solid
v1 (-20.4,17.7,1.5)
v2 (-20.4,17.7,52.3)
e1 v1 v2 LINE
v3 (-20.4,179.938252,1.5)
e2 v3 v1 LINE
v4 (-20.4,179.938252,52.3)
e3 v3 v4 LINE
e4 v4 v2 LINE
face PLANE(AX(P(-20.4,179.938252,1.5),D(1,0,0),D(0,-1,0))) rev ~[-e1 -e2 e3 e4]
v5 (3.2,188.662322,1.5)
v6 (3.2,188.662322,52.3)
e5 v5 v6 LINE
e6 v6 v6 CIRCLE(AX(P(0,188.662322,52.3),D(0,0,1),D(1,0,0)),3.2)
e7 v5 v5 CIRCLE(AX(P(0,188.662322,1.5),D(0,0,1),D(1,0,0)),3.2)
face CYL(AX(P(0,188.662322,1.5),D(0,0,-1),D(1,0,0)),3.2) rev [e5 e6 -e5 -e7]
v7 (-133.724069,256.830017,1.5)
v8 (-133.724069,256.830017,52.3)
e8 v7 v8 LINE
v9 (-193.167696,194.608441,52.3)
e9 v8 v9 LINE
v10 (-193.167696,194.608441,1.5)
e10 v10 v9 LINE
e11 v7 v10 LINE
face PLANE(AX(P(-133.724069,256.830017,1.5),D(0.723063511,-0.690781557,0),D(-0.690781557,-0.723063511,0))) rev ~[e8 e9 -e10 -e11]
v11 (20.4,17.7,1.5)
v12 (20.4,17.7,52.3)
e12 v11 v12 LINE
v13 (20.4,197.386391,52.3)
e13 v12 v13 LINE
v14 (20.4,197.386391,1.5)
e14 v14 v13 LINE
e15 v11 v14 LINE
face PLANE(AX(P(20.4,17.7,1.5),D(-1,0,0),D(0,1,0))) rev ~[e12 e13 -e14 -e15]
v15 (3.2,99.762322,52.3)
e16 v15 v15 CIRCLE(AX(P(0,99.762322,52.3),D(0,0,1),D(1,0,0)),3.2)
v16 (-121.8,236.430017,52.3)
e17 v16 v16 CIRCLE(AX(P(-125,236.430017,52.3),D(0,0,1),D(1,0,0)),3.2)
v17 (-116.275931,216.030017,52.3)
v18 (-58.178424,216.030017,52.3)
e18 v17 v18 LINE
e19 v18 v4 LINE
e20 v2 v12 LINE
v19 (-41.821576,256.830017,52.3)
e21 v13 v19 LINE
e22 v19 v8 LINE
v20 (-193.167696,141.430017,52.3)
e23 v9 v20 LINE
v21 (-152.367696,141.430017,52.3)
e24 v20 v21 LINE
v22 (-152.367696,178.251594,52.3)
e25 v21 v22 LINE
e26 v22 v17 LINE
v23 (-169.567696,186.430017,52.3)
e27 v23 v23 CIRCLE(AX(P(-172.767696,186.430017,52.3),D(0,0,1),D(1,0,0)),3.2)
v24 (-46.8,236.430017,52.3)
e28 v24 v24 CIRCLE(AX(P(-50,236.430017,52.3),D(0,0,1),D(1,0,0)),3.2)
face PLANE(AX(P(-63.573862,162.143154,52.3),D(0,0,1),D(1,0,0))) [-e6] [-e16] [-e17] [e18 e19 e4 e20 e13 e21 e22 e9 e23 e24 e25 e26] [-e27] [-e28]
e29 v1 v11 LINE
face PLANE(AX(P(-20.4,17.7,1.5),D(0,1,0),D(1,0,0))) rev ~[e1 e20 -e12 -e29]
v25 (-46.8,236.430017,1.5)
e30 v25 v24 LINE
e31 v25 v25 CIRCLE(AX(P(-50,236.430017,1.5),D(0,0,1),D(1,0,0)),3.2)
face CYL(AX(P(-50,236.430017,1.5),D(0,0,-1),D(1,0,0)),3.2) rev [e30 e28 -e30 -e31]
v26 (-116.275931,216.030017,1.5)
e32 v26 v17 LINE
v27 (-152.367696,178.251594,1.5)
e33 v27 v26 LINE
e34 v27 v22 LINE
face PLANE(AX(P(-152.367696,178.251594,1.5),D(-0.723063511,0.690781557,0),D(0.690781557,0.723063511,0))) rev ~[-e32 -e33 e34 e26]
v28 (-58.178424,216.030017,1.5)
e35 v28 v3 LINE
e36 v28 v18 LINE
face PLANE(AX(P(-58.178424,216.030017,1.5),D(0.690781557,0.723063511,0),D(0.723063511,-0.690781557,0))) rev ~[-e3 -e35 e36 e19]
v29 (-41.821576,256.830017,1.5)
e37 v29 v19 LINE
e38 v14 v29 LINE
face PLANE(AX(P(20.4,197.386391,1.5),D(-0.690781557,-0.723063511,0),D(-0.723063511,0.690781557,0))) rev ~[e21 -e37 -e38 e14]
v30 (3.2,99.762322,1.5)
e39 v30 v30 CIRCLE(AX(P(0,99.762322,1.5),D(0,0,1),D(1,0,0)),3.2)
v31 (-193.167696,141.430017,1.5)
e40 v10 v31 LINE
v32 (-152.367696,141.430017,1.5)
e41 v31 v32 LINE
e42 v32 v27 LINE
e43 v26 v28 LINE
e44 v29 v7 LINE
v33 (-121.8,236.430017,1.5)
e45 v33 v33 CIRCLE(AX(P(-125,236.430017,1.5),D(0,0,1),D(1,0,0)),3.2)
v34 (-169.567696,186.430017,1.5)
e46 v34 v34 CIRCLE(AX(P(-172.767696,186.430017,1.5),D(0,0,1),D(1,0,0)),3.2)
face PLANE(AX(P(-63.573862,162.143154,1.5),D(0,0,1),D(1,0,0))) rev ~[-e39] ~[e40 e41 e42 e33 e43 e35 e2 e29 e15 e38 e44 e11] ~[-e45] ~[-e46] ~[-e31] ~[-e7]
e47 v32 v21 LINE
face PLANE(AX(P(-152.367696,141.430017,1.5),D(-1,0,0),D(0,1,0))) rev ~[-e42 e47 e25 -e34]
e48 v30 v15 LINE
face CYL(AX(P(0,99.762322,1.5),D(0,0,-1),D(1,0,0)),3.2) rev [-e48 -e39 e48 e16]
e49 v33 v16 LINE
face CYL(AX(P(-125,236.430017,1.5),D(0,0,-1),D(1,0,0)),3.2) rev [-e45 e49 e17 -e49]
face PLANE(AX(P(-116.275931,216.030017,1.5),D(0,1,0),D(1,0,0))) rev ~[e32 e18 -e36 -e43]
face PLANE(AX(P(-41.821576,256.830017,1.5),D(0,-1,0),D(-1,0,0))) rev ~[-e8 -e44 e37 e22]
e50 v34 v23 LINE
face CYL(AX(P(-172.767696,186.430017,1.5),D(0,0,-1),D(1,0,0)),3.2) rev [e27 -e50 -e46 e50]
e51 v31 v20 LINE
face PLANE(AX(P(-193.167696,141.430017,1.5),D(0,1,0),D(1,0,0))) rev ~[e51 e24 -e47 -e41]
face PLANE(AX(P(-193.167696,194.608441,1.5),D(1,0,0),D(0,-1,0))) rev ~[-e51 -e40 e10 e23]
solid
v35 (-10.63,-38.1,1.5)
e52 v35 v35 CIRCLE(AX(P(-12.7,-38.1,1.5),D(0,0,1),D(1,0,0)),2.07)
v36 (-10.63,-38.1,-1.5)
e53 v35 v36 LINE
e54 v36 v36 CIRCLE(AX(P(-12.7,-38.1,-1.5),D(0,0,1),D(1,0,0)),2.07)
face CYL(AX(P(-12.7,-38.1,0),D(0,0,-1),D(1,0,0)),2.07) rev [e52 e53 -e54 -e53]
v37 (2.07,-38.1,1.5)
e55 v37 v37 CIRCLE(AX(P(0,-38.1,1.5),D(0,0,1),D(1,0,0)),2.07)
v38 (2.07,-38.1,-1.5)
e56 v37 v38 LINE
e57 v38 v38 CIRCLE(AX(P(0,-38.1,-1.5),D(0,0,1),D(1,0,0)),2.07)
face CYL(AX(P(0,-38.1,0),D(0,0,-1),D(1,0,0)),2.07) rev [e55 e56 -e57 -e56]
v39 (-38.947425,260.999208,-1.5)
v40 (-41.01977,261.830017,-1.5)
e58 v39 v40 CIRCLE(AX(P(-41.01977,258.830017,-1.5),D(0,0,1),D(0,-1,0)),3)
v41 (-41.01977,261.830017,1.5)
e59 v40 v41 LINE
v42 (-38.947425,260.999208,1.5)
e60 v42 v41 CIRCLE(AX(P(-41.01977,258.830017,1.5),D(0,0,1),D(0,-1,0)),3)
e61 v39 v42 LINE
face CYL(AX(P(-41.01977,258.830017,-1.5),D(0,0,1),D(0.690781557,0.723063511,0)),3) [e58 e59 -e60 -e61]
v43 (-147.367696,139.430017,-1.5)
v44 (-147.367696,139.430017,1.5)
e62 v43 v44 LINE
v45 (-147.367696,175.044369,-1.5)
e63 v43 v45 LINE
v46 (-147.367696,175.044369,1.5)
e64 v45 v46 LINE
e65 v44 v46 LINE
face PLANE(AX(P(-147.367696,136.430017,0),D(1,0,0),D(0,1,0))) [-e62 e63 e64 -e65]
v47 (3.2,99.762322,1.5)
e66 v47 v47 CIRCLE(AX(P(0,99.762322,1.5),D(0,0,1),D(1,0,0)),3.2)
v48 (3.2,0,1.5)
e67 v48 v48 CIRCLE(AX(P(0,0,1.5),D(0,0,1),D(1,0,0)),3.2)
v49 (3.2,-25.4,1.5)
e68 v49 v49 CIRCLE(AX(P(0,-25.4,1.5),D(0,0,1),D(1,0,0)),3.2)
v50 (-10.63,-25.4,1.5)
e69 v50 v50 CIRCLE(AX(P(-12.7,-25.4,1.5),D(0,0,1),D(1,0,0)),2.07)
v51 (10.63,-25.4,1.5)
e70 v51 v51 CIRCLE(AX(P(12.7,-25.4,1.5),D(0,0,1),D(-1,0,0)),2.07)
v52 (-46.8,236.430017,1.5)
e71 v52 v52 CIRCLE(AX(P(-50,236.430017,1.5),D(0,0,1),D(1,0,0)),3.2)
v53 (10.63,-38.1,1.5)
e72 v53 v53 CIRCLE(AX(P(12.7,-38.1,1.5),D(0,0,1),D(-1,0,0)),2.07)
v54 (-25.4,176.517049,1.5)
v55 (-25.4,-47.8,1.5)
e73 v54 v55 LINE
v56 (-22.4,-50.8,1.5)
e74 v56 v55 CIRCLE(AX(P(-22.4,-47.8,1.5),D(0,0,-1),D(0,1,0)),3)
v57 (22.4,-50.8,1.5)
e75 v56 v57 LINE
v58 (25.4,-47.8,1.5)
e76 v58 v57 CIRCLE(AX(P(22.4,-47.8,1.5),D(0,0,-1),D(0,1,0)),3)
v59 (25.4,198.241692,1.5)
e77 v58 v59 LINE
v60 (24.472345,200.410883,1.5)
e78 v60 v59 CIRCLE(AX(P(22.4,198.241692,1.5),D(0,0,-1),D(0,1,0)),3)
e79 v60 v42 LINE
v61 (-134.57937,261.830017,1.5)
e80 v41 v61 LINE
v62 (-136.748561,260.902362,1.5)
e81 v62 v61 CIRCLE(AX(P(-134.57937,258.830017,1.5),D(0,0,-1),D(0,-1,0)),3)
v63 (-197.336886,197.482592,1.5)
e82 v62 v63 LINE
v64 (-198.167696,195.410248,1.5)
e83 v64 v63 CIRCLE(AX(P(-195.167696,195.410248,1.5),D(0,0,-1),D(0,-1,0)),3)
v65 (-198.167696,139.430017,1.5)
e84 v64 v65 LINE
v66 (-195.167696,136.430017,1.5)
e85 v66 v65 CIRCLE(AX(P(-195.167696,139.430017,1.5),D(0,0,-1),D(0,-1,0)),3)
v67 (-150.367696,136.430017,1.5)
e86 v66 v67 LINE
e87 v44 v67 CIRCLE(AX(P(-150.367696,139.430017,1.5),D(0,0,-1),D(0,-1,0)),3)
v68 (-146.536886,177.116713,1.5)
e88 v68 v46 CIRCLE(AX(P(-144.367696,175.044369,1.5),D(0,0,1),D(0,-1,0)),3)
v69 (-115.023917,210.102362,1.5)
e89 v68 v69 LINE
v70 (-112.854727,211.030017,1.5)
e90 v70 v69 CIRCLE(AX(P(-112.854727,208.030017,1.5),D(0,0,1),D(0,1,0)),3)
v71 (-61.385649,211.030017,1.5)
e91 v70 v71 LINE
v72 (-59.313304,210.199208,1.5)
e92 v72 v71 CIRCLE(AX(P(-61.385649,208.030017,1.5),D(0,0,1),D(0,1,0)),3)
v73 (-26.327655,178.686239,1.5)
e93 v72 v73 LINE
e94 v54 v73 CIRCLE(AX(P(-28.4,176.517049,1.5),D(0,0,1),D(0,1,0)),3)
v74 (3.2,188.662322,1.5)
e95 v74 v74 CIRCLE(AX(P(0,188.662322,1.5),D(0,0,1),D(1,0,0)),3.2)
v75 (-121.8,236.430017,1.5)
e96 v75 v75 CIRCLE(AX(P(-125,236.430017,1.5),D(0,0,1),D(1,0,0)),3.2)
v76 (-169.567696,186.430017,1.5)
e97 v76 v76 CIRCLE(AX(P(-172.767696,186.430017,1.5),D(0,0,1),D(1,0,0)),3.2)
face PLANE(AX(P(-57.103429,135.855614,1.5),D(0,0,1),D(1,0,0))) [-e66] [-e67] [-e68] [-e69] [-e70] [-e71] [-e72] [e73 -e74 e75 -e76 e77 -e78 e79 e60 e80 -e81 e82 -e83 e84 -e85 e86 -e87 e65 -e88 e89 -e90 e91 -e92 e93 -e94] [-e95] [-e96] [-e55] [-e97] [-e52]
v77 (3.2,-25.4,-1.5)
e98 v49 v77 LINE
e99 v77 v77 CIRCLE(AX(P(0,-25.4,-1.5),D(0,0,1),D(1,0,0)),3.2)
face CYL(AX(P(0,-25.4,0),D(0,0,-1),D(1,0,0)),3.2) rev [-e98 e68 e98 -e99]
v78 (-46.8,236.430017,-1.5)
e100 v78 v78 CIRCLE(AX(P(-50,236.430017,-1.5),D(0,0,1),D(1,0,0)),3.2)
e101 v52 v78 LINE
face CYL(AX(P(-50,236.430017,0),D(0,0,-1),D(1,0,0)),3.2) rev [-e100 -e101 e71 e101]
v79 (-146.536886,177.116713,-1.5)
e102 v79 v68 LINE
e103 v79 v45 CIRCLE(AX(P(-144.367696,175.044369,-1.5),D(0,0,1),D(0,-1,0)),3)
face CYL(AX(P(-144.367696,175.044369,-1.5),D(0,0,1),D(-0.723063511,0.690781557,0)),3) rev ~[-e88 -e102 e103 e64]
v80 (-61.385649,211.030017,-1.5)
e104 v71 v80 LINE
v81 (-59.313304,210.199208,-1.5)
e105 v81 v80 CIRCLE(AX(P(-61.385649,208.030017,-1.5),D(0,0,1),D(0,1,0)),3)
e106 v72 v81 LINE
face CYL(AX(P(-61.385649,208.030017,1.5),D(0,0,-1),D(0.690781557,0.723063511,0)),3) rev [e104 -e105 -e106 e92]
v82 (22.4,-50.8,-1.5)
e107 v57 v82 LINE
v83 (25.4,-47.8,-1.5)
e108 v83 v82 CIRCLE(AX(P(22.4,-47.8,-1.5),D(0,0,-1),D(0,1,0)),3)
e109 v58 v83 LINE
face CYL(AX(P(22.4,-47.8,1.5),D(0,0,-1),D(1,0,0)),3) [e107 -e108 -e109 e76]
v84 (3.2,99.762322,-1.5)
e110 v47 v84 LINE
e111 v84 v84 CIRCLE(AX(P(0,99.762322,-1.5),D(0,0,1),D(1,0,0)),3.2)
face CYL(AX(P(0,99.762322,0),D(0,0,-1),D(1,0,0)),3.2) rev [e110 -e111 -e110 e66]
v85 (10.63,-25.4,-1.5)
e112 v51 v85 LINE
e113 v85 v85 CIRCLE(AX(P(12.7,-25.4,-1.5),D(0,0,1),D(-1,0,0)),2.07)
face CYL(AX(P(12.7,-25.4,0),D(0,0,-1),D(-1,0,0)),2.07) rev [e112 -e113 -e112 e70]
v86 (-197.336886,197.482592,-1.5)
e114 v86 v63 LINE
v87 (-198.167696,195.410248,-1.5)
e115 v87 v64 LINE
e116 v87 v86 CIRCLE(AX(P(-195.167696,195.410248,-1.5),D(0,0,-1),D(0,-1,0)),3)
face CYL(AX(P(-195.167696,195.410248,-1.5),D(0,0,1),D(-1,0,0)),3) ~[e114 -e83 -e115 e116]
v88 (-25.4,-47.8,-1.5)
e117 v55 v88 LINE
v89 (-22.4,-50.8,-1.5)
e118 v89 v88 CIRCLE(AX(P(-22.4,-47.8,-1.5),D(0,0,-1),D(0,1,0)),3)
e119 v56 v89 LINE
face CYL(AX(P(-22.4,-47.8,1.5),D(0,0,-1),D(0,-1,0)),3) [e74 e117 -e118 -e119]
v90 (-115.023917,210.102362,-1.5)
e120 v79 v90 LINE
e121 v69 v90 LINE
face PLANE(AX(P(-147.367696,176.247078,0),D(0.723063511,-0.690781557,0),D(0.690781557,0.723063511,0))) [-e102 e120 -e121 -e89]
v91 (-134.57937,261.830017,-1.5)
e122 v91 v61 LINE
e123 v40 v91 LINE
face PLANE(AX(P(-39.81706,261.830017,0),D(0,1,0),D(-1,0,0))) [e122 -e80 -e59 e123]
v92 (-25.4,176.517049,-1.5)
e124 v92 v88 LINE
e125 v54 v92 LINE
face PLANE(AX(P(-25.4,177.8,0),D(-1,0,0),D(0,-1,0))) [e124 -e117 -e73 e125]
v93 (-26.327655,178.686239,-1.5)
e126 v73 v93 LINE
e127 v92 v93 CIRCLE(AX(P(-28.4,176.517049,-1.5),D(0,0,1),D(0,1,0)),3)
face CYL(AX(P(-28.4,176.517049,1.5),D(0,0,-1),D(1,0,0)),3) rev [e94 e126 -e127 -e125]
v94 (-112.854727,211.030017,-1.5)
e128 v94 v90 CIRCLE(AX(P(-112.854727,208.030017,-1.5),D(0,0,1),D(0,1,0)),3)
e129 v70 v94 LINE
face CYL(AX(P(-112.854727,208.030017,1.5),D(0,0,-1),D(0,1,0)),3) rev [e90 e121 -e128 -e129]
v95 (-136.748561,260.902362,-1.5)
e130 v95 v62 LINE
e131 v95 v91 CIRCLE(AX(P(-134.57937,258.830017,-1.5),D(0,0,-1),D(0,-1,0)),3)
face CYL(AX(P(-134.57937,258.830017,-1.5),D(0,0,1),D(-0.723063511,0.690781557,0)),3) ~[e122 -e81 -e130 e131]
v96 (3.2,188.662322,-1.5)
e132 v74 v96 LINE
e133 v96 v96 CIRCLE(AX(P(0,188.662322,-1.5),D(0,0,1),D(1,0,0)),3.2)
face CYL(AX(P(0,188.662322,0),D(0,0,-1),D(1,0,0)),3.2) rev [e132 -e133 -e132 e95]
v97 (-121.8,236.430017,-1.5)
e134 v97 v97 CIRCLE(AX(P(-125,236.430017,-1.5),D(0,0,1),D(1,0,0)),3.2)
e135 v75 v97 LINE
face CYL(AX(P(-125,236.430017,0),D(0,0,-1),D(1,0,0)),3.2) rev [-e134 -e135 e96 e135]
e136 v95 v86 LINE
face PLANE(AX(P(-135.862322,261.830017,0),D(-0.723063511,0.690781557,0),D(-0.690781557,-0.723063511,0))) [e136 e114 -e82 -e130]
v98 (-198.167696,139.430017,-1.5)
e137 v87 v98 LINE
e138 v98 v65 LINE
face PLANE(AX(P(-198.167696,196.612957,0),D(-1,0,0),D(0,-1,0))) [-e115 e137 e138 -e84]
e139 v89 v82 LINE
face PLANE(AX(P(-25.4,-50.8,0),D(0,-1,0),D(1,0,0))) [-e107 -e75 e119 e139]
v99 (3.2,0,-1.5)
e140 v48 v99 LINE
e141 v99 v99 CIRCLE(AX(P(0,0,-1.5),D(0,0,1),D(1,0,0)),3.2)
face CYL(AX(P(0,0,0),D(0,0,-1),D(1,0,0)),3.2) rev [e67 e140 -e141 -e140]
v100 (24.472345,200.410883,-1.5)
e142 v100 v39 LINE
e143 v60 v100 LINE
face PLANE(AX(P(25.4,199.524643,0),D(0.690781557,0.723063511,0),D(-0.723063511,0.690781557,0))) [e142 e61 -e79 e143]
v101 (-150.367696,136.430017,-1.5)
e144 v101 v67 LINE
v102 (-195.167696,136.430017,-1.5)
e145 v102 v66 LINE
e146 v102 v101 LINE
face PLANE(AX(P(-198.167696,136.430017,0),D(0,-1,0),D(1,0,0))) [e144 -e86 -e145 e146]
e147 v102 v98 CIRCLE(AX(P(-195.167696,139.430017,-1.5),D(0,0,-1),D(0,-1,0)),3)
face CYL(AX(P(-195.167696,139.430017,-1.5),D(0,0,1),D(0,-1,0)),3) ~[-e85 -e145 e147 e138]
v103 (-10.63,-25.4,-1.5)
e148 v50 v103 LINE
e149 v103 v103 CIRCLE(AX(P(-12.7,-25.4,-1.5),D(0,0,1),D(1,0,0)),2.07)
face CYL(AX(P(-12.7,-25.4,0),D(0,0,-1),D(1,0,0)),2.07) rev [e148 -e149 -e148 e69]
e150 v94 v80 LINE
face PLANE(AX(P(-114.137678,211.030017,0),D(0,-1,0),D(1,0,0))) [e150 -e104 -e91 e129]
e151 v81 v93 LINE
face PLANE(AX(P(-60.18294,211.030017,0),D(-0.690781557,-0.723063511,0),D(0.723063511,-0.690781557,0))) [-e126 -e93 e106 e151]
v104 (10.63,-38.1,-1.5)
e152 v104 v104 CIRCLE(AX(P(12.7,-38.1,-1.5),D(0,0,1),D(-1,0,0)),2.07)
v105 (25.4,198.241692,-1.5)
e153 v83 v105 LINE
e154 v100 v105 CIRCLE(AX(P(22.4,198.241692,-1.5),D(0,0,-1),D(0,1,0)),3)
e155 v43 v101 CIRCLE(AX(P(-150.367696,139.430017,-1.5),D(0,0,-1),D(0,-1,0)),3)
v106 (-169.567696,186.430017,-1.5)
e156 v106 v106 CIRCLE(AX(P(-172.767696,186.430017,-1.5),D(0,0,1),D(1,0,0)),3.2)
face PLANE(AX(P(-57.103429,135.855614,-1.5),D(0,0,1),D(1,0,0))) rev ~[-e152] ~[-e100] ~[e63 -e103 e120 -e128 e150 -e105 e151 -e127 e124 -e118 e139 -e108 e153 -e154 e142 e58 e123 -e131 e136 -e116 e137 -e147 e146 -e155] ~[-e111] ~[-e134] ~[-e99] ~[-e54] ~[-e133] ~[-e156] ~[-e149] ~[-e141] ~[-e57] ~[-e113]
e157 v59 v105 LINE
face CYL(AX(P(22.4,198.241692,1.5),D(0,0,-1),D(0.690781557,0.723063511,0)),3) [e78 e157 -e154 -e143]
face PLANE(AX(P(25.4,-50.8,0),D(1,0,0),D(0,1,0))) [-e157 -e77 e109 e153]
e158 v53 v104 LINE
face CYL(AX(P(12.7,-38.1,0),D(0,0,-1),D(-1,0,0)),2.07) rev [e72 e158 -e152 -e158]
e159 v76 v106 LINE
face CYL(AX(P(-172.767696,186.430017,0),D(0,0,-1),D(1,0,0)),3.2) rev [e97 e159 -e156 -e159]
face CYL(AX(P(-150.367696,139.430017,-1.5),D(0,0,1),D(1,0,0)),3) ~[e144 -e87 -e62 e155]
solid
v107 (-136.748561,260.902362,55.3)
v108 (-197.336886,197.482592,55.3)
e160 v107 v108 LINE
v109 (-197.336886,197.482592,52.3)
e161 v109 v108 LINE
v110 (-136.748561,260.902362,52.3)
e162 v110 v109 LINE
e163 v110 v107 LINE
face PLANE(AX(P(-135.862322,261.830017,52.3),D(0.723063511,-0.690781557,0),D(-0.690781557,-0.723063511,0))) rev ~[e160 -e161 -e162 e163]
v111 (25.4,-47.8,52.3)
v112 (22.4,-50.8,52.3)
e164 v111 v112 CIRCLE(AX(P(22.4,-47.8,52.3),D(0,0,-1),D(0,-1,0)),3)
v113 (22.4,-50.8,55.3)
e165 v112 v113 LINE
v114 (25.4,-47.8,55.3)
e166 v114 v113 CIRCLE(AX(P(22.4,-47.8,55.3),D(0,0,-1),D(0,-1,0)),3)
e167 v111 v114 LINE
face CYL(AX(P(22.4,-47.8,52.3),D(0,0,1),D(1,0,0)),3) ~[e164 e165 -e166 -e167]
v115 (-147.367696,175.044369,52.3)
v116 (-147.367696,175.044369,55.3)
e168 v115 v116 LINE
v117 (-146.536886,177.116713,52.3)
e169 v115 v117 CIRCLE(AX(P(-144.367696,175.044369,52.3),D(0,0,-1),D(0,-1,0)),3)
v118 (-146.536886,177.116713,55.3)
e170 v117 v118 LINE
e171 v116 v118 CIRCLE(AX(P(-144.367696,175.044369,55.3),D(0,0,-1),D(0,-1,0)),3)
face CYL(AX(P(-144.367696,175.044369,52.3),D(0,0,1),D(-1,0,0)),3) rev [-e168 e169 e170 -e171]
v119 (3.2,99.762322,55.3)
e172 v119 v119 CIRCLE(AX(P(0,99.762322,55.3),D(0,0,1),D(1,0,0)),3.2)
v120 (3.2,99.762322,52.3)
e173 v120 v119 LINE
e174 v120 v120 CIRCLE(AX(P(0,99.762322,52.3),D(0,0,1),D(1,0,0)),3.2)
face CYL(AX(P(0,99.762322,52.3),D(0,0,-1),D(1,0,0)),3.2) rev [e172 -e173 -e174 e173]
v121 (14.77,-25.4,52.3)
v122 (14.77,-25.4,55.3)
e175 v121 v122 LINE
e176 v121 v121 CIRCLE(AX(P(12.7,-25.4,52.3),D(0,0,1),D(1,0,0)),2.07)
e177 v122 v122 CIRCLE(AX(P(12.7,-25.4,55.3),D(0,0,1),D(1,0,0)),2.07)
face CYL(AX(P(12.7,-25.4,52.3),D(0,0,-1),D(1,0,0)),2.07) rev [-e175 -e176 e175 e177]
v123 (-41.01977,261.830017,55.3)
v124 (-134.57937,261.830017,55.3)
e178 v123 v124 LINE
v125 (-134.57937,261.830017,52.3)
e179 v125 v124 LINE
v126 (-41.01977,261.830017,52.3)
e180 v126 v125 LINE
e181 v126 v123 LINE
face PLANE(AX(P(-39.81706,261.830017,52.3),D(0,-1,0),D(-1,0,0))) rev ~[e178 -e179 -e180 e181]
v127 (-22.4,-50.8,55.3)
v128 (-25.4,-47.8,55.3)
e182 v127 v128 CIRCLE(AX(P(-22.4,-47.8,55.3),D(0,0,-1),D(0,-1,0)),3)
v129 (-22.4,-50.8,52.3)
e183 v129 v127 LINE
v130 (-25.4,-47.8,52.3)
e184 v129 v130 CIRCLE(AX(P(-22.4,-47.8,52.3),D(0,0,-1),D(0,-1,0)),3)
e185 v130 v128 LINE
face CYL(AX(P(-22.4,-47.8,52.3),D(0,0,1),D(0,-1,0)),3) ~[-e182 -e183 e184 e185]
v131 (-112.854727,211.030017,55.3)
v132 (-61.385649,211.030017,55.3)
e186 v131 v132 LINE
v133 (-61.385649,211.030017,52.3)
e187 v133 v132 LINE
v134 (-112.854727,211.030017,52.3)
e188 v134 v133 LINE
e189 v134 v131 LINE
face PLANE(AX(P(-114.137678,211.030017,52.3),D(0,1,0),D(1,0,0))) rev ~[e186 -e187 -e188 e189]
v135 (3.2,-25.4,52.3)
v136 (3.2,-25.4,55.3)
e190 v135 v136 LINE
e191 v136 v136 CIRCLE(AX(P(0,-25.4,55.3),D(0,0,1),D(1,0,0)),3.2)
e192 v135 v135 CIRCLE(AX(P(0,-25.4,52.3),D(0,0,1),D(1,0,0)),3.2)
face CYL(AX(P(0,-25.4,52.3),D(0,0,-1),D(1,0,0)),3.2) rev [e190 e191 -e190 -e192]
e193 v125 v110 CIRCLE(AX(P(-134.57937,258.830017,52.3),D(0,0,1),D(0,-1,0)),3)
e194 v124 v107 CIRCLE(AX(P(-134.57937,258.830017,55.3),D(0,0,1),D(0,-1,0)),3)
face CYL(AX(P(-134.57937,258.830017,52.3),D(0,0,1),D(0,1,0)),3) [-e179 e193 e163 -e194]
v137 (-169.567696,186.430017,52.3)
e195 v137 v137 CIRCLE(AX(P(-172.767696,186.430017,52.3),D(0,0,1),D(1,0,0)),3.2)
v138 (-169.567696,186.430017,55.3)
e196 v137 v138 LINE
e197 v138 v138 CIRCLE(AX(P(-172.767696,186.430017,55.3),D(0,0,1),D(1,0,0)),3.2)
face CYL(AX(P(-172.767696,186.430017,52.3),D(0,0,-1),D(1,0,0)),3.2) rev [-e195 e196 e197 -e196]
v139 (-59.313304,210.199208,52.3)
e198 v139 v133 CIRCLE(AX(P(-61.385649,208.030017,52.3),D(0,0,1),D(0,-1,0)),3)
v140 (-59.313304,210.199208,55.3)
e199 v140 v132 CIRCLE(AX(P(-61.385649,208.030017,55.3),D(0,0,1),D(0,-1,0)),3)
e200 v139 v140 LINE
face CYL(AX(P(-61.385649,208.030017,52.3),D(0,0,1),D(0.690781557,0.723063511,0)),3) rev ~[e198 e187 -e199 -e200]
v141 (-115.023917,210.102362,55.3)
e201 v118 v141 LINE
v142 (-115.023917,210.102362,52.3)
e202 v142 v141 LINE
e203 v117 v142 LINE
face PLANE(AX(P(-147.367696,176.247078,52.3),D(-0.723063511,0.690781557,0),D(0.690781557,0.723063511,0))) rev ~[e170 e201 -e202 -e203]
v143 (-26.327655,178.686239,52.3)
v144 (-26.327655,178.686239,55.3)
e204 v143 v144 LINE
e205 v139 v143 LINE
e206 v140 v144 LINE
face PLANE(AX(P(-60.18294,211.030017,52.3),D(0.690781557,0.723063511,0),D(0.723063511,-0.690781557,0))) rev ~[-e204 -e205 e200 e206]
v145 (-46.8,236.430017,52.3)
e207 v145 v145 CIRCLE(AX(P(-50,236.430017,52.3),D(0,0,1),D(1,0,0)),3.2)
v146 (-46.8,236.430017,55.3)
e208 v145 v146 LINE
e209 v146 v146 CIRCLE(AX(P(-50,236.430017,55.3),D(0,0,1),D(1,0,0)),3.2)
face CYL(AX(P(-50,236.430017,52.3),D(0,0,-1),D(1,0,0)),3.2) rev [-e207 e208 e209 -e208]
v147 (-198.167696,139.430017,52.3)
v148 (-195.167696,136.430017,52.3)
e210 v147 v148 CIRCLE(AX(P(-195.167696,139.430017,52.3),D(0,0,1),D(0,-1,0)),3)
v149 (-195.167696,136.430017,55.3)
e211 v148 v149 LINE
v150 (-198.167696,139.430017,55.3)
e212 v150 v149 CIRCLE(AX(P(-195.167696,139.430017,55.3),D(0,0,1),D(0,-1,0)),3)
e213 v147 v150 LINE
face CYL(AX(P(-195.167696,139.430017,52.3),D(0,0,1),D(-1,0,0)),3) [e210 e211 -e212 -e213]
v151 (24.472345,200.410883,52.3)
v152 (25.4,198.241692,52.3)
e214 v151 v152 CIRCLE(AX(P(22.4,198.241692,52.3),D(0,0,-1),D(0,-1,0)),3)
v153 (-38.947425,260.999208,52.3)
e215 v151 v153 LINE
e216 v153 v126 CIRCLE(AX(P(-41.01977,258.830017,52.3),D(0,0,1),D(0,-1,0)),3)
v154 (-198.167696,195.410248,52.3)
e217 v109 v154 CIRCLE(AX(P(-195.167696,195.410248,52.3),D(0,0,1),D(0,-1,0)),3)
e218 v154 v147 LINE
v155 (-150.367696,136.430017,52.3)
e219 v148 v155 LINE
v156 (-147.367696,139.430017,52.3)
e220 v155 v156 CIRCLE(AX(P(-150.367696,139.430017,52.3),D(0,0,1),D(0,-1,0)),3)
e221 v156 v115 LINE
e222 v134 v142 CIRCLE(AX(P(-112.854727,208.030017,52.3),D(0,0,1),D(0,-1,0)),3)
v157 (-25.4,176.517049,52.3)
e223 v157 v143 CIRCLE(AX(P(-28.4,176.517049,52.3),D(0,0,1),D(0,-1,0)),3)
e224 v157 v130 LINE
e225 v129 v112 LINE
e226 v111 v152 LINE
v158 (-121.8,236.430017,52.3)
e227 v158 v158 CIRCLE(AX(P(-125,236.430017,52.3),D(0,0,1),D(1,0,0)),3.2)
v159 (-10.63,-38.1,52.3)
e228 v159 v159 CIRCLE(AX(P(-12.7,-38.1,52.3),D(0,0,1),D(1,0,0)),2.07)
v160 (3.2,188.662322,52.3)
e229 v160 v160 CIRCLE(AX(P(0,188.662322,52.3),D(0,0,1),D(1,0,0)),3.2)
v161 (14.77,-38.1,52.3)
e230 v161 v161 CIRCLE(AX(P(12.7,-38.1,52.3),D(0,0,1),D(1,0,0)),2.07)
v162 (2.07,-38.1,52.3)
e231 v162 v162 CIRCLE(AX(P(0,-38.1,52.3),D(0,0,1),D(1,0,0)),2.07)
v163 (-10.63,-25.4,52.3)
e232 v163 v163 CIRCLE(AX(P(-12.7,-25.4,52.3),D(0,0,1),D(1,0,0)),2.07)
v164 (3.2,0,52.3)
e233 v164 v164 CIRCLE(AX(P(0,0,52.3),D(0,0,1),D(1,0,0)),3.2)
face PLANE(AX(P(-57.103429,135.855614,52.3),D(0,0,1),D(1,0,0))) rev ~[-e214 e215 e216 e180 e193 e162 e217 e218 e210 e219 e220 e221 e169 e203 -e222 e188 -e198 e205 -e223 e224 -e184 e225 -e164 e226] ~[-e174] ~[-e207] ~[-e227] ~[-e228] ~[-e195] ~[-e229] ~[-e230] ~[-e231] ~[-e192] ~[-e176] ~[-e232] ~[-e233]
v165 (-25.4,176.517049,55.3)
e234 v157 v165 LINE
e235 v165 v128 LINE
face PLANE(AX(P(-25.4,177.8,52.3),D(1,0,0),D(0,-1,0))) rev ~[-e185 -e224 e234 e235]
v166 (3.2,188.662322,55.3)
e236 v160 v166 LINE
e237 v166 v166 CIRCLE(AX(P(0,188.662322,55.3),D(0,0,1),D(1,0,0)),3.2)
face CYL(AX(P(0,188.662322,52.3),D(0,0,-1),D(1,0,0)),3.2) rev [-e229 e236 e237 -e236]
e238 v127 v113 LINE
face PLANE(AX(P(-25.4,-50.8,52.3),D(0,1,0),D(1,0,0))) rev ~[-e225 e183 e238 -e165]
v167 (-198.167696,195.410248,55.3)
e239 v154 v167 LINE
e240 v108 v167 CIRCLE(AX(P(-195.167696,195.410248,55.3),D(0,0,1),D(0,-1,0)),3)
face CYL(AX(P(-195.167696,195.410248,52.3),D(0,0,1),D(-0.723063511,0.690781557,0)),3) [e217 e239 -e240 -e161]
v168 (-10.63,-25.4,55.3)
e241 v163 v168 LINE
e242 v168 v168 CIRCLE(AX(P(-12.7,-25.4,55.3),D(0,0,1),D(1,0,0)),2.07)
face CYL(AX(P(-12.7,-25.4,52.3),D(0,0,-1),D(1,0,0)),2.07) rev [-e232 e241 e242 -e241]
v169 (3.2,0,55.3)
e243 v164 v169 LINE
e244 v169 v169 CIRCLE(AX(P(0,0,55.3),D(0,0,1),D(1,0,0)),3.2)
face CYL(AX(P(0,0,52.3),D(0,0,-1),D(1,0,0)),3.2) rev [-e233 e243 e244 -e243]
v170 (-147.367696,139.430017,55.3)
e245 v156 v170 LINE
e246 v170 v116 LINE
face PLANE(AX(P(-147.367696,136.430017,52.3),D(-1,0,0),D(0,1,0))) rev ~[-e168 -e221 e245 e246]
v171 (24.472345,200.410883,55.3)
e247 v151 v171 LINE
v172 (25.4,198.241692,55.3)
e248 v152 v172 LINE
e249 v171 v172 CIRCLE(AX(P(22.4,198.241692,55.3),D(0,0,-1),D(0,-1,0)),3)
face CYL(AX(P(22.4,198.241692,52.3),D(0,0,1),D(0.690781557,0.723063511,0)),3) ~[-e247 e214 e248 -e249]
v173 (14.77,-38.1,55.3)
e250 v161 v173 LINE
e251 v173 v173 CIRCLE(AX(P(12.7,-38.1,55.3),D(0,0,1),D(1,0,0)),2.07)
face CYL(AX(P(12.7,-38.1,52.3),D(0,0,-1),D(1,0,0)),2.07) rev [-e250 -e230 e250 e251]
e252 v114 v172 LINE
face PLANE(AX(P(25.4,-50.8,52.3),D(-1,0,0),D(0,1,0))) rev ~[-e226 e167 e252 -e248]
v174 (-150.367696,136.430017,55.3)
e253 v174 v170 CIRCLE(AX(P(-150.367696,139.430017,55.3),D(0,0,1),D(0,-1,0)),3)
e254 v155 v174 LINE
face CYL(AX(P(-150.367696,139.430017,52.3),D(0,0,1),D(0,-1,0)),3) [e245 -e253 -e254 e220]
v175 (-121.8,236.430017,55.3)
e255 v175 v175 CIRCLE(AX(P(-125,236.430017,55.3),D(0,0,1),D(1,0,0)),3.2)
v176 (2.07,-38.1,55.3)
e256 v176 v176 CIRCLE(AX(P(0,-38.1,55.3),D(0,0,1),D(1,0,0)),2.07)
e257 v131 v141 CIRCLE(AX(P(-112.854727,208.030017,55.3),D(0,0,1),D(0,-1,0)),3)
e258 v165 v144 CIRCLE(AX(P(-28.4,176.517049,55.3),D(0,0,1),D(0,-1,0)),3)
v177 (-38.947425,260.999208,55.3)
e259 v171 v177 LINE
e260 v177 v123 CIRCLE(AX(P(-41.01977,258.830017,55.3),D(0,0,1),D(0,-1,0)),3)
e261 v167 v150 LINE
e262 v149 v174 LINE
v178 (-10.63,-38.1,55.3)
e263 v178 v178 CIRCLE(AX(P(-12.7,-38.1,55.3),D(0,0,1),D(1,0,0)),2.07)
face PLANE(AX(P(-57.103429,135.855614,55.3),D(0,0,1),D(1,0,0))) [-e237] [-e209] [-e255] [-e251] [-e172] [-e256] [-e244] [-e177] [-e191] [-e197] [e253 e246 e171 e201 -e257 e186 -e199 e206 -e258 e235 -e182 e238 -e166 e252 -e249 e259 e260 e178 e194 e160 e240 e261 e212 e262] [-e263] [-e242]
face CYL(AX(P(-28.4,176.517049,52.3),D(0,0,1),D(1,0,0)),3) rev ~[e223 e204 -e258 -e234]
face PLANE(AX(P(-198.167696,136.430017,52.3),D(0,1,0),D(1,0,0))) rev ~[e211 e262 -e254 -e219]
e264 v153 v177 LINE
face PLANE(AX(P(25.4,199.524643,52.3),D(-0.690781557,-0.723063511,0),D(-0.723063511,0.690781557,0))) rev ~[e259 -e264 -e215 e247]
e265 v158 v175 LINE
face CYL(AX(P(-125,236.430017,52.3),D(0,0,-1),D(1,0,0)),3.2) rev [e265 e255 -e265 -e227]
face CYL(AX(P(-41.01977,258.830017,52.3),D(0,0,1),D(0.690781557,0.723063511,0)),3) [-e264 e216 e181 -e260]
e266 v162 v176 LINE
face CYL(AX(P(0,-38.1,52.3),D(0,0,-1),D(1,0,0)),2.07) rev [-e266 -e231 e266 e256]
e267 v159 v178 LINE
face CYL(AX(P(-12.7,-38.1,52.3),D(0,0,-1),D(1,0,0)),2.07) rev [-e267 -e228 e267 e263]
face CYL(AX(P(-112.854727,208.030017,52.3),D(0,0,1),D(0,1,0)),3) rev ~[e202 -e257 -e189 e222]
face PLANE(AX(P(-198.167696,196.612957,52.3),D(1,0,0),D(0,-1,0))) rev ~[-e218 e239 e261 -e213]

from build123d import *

# Parameters (mm, degrees)
SKETCH1_R           = 3.2
SKETCH1_R_2         = 2.07
BOSS_EXTRUDE1_DEPTH = 1.5
SKETCH2_R           = 3.2
BOSS_EXTRUDE2_DEPTH = 50.8
BOSS_EXTRUDE4_START = 52.3
SKETCH1_3_R         = 3.2
SKETCH1_3_R_2       = 2.07
BOSS_EXTRUDE4_DEPTH = 3
FILLET1_R           = 3
FILLET2_R           = 3


with BuildPart() as part:
    # Sketch1 → Boss-Extrude1 (new, symmetric)
    with BuildSketch(Plane.XY):
        Polygon((25.4, 0), (25.4, 199.524643379), (-39.817060467, 261.830017499), (-135.86232169, 261.830017499), (-198.167695809, 196.612957032), (-198.167695809, 136.430017499), (-147.367695809, 136.430017499), (-147.367695809, 176.247077966), (-114.13767831, 211.030017499), (-60.182939533, 211.030017499), (-25.4, 177.8), (-25.4, 0), (-25.4, -50.8), (25.4, -50.8), align=None)
        with Locations((-172.767695809, 186.430017499)):
            Circle(SKETCH1_R, mode=Mode.SUBTRACT)
        with Locations((-125, 236.430017499)):
            Circle(SKETCH1_R, mode=Mode.SUBTRACT)
        with Locations((-50, 236.430017499)):
            Circle(SKETCH1_R, mode=Mode.SUBTRACT)
        with Locations((0, 188.66232169)):
            Circle(SKETCH1_R, mode=Mode.SUBTRACT)
        Circle(SKETCH1_R, mode=Mode.SUBTRACT)
        with Locations((0, 99.76232169)):
            Circle(SKETCH1_R, mode=Mode.SUBTRACT)
        with Locations((0, -25.4)):
            Circle(SKETCH1_R, mode=Mode.SUBTRACT)
        with Locations((-12.7, -25.4)):
            Circle(SKETCH1_R_2, mode=Mode.SUBTRACT)
        with Locations(Location((12.7, -25.4, 0), (0, 0, 180))):
            Circle(SKETCH1_R_2, mode=Mode.SUBTRACT)
        with Locations((-12.7, -38.1)):
            Circle(SKETCH1_R_2, mode=Mode.SUBTRACT)
        with Locations(Location((12.7, -38.1, 0), (0, 0, 180))):
            Circle(SKETCH1_R_2, mode=Mode.SUBTRACT)
        with Locations((0, -38.1)):
            Circle(SKETCH1_R_2, mode=Mode.SUBTRACT)
    extrude(amount=BOSS_EXTRUDE1_DEPTH, both=True)

    # Fillet1
    fillet1_edges = [part.edges().sort_by_distance(p)[0] for p in [
        (25.4, -50.8, 0),
        (-25.4, -50.8, 0),
        (-25.4, 177.8, 0),
        (-60.182939533, 211.030017499, 0),
        (-114.13767831, 211.030017499, 0),
        (-147.367695809, 176.247077966, 0),
        (-147.367695809, 136.430017499, 0),
        (-198.167695809, 136.430017499, 0),
        (-198.167695809, 196.612957032, 0),
        (-135.86232169, 261.830017499, 0),
        (-39.817060467, 261.830017499, 0),
        (25.4, 199.524643379, 0),
    ]]
    fillet(fillet1_edges, radius=FILLET1_R)


with BuildPart() as body_2:
    # Sketch2 → Boss-Extrude2 (new body)
    with BuildSketch(Plane.XY.offset(1.5)):
        Polygon((-20.4, 179.938252301), (-20.4, 17.7), (20.4, 17.7), (20.4, 197.386391078), (-41.821576123, 256.830017499), (-133.724069389, 256.830017499), (-193.167695809, 194.608441375), (-193.167695809, 141.430017499), (-152.367695809, 141.430017499), (-152.367695809, 178.251593622), (-116.275930611, 216.030017499), (-58.178423877, 216.030017499), align=None)
        with Locations((0, 99.76232169)):
            Circle(SKETCH2_R, mode=Mode.SUBTRACT)
        with Locations((-172.767695809, 186.430017499)):
            Circle(SKETCH2_R, mode=Mode.SUBTRACT)
        with Locations((-125, 236.430017499)):
            Circle(SKETCH2_R, mode=Mode.SUBTRACT)
        with Locations((-50, 236.430017499)):
            Circle(SKETCH2_R, mode=Mode.SUBTRACT)
        with Locations((0, 188.66232169)):
            Circle(SKETCH2_R, mode=Mode.SUBTRACT)
    extrude(amount=BOSS_EXTRUDE2_DEPTH)


with BuildPart() as body_3:
    # Sketch1<3> → Boss-Extrude4 (new body)
    with BuildSketch(Plane.XY.offset(BOSS_EXTRUDE4_START)):
        Polygon((25.4, 0), (25.4, 199.524643379), (-39.817060467, 261.830017499), (-135.86232169, 261.830017499), (-198.167695809, 196.612957032), (-198.167695809, 136.430017499), (-147.367695809, 136.430017499), (-147.367695809, 176.247077966), (-114.13767831, 211.030017499), (-60.182939533, 211.030017499), (-25.4, 177.8), (-25.4, 0), (-25.4, -50.8), (25.4, -50.8), align=None)
        with Locations((-172.767695809, 186.430017499)):
            Circle(SKETCH1_3_R, mode=Mode.SUBTRACT)
        with Locations((-125, 236.430017499)):
            Circle(SKETCH1_3_R, mode=Mode.SUBTRACT)
        with Locations((-50, 236.430017499)):
            Circle(SKETCH1_3_R, mode=Mode.SUBTRACT)
        with Locations((0, 188.66232169)):
            Circle(SKETCH1_3_R, mode=Mode.SUBTRACT)
        Circle(SKETCH1_3_R, mode=Mode.SUBTRACT)
        with Locations((0, 99.76232169)):
            Circle(SKETCH1_3_R, mode=Mode.SUBTRACT)
        with Locations((0, -25.4)):
            Circle(SKETCH1_3_R, mode=Mode.SUBTRACT)
        with Locations((-12.7, -25.4)):
            Circle(SKETCH1_3_R_2, mode=Mode.SUBTRACT)
        with Locations((12.7, -25.4)):
            Circle(SKETCH1_3_R_2, mode=Mode.SUBTRACT)
        with Locations((-12.7, -38.1)):
            Circle(SKETCH1_3_R_2, mode=Mode.SUBTRACT)
        with Locations((12.7, -38.1)):
            Circle(SKETCH1_3_R_2, mode=Mode.SUBTRACT)
        with Locations((0, -38.1)):
            Circle(SKETCH1_3_R_2, mode=Mode.SUBTRACT)
    extrude(amount=BOSS_EXTRUDE4_DEPTH)

    # Fillet2
    fillet2_edges = [body_3.edges().sort_by_distance(p)[0] for p in [
        (-147.367695809, 136.430017499, 53.8),
        (-147.367695809, 176.247077966, 53.8),
        (-114.13767831, 211.030017499, 53.8),
        (-60.182939533, 211.030017499, 53.8),
        (-25.4, 177.8, 53.8),
        (-25.4, -50.8, 53.8),
        (25.4, -50.8, 53.8),
        (25.4, 199.524643379, 53.8),
        (-39.817060467, 261.830017499, 53.8),
        (-135.86232169, 261.830017499, 53.8),
        (-198.167695809, 196.612957032, 53.8),
        (-198.167695809, 136.430017499, 53.8),
    ]]
    fillet(fillet2_edges, radius=FILLET2_R)


solid = Compound([part.part, body_2.part, body_3.part])
